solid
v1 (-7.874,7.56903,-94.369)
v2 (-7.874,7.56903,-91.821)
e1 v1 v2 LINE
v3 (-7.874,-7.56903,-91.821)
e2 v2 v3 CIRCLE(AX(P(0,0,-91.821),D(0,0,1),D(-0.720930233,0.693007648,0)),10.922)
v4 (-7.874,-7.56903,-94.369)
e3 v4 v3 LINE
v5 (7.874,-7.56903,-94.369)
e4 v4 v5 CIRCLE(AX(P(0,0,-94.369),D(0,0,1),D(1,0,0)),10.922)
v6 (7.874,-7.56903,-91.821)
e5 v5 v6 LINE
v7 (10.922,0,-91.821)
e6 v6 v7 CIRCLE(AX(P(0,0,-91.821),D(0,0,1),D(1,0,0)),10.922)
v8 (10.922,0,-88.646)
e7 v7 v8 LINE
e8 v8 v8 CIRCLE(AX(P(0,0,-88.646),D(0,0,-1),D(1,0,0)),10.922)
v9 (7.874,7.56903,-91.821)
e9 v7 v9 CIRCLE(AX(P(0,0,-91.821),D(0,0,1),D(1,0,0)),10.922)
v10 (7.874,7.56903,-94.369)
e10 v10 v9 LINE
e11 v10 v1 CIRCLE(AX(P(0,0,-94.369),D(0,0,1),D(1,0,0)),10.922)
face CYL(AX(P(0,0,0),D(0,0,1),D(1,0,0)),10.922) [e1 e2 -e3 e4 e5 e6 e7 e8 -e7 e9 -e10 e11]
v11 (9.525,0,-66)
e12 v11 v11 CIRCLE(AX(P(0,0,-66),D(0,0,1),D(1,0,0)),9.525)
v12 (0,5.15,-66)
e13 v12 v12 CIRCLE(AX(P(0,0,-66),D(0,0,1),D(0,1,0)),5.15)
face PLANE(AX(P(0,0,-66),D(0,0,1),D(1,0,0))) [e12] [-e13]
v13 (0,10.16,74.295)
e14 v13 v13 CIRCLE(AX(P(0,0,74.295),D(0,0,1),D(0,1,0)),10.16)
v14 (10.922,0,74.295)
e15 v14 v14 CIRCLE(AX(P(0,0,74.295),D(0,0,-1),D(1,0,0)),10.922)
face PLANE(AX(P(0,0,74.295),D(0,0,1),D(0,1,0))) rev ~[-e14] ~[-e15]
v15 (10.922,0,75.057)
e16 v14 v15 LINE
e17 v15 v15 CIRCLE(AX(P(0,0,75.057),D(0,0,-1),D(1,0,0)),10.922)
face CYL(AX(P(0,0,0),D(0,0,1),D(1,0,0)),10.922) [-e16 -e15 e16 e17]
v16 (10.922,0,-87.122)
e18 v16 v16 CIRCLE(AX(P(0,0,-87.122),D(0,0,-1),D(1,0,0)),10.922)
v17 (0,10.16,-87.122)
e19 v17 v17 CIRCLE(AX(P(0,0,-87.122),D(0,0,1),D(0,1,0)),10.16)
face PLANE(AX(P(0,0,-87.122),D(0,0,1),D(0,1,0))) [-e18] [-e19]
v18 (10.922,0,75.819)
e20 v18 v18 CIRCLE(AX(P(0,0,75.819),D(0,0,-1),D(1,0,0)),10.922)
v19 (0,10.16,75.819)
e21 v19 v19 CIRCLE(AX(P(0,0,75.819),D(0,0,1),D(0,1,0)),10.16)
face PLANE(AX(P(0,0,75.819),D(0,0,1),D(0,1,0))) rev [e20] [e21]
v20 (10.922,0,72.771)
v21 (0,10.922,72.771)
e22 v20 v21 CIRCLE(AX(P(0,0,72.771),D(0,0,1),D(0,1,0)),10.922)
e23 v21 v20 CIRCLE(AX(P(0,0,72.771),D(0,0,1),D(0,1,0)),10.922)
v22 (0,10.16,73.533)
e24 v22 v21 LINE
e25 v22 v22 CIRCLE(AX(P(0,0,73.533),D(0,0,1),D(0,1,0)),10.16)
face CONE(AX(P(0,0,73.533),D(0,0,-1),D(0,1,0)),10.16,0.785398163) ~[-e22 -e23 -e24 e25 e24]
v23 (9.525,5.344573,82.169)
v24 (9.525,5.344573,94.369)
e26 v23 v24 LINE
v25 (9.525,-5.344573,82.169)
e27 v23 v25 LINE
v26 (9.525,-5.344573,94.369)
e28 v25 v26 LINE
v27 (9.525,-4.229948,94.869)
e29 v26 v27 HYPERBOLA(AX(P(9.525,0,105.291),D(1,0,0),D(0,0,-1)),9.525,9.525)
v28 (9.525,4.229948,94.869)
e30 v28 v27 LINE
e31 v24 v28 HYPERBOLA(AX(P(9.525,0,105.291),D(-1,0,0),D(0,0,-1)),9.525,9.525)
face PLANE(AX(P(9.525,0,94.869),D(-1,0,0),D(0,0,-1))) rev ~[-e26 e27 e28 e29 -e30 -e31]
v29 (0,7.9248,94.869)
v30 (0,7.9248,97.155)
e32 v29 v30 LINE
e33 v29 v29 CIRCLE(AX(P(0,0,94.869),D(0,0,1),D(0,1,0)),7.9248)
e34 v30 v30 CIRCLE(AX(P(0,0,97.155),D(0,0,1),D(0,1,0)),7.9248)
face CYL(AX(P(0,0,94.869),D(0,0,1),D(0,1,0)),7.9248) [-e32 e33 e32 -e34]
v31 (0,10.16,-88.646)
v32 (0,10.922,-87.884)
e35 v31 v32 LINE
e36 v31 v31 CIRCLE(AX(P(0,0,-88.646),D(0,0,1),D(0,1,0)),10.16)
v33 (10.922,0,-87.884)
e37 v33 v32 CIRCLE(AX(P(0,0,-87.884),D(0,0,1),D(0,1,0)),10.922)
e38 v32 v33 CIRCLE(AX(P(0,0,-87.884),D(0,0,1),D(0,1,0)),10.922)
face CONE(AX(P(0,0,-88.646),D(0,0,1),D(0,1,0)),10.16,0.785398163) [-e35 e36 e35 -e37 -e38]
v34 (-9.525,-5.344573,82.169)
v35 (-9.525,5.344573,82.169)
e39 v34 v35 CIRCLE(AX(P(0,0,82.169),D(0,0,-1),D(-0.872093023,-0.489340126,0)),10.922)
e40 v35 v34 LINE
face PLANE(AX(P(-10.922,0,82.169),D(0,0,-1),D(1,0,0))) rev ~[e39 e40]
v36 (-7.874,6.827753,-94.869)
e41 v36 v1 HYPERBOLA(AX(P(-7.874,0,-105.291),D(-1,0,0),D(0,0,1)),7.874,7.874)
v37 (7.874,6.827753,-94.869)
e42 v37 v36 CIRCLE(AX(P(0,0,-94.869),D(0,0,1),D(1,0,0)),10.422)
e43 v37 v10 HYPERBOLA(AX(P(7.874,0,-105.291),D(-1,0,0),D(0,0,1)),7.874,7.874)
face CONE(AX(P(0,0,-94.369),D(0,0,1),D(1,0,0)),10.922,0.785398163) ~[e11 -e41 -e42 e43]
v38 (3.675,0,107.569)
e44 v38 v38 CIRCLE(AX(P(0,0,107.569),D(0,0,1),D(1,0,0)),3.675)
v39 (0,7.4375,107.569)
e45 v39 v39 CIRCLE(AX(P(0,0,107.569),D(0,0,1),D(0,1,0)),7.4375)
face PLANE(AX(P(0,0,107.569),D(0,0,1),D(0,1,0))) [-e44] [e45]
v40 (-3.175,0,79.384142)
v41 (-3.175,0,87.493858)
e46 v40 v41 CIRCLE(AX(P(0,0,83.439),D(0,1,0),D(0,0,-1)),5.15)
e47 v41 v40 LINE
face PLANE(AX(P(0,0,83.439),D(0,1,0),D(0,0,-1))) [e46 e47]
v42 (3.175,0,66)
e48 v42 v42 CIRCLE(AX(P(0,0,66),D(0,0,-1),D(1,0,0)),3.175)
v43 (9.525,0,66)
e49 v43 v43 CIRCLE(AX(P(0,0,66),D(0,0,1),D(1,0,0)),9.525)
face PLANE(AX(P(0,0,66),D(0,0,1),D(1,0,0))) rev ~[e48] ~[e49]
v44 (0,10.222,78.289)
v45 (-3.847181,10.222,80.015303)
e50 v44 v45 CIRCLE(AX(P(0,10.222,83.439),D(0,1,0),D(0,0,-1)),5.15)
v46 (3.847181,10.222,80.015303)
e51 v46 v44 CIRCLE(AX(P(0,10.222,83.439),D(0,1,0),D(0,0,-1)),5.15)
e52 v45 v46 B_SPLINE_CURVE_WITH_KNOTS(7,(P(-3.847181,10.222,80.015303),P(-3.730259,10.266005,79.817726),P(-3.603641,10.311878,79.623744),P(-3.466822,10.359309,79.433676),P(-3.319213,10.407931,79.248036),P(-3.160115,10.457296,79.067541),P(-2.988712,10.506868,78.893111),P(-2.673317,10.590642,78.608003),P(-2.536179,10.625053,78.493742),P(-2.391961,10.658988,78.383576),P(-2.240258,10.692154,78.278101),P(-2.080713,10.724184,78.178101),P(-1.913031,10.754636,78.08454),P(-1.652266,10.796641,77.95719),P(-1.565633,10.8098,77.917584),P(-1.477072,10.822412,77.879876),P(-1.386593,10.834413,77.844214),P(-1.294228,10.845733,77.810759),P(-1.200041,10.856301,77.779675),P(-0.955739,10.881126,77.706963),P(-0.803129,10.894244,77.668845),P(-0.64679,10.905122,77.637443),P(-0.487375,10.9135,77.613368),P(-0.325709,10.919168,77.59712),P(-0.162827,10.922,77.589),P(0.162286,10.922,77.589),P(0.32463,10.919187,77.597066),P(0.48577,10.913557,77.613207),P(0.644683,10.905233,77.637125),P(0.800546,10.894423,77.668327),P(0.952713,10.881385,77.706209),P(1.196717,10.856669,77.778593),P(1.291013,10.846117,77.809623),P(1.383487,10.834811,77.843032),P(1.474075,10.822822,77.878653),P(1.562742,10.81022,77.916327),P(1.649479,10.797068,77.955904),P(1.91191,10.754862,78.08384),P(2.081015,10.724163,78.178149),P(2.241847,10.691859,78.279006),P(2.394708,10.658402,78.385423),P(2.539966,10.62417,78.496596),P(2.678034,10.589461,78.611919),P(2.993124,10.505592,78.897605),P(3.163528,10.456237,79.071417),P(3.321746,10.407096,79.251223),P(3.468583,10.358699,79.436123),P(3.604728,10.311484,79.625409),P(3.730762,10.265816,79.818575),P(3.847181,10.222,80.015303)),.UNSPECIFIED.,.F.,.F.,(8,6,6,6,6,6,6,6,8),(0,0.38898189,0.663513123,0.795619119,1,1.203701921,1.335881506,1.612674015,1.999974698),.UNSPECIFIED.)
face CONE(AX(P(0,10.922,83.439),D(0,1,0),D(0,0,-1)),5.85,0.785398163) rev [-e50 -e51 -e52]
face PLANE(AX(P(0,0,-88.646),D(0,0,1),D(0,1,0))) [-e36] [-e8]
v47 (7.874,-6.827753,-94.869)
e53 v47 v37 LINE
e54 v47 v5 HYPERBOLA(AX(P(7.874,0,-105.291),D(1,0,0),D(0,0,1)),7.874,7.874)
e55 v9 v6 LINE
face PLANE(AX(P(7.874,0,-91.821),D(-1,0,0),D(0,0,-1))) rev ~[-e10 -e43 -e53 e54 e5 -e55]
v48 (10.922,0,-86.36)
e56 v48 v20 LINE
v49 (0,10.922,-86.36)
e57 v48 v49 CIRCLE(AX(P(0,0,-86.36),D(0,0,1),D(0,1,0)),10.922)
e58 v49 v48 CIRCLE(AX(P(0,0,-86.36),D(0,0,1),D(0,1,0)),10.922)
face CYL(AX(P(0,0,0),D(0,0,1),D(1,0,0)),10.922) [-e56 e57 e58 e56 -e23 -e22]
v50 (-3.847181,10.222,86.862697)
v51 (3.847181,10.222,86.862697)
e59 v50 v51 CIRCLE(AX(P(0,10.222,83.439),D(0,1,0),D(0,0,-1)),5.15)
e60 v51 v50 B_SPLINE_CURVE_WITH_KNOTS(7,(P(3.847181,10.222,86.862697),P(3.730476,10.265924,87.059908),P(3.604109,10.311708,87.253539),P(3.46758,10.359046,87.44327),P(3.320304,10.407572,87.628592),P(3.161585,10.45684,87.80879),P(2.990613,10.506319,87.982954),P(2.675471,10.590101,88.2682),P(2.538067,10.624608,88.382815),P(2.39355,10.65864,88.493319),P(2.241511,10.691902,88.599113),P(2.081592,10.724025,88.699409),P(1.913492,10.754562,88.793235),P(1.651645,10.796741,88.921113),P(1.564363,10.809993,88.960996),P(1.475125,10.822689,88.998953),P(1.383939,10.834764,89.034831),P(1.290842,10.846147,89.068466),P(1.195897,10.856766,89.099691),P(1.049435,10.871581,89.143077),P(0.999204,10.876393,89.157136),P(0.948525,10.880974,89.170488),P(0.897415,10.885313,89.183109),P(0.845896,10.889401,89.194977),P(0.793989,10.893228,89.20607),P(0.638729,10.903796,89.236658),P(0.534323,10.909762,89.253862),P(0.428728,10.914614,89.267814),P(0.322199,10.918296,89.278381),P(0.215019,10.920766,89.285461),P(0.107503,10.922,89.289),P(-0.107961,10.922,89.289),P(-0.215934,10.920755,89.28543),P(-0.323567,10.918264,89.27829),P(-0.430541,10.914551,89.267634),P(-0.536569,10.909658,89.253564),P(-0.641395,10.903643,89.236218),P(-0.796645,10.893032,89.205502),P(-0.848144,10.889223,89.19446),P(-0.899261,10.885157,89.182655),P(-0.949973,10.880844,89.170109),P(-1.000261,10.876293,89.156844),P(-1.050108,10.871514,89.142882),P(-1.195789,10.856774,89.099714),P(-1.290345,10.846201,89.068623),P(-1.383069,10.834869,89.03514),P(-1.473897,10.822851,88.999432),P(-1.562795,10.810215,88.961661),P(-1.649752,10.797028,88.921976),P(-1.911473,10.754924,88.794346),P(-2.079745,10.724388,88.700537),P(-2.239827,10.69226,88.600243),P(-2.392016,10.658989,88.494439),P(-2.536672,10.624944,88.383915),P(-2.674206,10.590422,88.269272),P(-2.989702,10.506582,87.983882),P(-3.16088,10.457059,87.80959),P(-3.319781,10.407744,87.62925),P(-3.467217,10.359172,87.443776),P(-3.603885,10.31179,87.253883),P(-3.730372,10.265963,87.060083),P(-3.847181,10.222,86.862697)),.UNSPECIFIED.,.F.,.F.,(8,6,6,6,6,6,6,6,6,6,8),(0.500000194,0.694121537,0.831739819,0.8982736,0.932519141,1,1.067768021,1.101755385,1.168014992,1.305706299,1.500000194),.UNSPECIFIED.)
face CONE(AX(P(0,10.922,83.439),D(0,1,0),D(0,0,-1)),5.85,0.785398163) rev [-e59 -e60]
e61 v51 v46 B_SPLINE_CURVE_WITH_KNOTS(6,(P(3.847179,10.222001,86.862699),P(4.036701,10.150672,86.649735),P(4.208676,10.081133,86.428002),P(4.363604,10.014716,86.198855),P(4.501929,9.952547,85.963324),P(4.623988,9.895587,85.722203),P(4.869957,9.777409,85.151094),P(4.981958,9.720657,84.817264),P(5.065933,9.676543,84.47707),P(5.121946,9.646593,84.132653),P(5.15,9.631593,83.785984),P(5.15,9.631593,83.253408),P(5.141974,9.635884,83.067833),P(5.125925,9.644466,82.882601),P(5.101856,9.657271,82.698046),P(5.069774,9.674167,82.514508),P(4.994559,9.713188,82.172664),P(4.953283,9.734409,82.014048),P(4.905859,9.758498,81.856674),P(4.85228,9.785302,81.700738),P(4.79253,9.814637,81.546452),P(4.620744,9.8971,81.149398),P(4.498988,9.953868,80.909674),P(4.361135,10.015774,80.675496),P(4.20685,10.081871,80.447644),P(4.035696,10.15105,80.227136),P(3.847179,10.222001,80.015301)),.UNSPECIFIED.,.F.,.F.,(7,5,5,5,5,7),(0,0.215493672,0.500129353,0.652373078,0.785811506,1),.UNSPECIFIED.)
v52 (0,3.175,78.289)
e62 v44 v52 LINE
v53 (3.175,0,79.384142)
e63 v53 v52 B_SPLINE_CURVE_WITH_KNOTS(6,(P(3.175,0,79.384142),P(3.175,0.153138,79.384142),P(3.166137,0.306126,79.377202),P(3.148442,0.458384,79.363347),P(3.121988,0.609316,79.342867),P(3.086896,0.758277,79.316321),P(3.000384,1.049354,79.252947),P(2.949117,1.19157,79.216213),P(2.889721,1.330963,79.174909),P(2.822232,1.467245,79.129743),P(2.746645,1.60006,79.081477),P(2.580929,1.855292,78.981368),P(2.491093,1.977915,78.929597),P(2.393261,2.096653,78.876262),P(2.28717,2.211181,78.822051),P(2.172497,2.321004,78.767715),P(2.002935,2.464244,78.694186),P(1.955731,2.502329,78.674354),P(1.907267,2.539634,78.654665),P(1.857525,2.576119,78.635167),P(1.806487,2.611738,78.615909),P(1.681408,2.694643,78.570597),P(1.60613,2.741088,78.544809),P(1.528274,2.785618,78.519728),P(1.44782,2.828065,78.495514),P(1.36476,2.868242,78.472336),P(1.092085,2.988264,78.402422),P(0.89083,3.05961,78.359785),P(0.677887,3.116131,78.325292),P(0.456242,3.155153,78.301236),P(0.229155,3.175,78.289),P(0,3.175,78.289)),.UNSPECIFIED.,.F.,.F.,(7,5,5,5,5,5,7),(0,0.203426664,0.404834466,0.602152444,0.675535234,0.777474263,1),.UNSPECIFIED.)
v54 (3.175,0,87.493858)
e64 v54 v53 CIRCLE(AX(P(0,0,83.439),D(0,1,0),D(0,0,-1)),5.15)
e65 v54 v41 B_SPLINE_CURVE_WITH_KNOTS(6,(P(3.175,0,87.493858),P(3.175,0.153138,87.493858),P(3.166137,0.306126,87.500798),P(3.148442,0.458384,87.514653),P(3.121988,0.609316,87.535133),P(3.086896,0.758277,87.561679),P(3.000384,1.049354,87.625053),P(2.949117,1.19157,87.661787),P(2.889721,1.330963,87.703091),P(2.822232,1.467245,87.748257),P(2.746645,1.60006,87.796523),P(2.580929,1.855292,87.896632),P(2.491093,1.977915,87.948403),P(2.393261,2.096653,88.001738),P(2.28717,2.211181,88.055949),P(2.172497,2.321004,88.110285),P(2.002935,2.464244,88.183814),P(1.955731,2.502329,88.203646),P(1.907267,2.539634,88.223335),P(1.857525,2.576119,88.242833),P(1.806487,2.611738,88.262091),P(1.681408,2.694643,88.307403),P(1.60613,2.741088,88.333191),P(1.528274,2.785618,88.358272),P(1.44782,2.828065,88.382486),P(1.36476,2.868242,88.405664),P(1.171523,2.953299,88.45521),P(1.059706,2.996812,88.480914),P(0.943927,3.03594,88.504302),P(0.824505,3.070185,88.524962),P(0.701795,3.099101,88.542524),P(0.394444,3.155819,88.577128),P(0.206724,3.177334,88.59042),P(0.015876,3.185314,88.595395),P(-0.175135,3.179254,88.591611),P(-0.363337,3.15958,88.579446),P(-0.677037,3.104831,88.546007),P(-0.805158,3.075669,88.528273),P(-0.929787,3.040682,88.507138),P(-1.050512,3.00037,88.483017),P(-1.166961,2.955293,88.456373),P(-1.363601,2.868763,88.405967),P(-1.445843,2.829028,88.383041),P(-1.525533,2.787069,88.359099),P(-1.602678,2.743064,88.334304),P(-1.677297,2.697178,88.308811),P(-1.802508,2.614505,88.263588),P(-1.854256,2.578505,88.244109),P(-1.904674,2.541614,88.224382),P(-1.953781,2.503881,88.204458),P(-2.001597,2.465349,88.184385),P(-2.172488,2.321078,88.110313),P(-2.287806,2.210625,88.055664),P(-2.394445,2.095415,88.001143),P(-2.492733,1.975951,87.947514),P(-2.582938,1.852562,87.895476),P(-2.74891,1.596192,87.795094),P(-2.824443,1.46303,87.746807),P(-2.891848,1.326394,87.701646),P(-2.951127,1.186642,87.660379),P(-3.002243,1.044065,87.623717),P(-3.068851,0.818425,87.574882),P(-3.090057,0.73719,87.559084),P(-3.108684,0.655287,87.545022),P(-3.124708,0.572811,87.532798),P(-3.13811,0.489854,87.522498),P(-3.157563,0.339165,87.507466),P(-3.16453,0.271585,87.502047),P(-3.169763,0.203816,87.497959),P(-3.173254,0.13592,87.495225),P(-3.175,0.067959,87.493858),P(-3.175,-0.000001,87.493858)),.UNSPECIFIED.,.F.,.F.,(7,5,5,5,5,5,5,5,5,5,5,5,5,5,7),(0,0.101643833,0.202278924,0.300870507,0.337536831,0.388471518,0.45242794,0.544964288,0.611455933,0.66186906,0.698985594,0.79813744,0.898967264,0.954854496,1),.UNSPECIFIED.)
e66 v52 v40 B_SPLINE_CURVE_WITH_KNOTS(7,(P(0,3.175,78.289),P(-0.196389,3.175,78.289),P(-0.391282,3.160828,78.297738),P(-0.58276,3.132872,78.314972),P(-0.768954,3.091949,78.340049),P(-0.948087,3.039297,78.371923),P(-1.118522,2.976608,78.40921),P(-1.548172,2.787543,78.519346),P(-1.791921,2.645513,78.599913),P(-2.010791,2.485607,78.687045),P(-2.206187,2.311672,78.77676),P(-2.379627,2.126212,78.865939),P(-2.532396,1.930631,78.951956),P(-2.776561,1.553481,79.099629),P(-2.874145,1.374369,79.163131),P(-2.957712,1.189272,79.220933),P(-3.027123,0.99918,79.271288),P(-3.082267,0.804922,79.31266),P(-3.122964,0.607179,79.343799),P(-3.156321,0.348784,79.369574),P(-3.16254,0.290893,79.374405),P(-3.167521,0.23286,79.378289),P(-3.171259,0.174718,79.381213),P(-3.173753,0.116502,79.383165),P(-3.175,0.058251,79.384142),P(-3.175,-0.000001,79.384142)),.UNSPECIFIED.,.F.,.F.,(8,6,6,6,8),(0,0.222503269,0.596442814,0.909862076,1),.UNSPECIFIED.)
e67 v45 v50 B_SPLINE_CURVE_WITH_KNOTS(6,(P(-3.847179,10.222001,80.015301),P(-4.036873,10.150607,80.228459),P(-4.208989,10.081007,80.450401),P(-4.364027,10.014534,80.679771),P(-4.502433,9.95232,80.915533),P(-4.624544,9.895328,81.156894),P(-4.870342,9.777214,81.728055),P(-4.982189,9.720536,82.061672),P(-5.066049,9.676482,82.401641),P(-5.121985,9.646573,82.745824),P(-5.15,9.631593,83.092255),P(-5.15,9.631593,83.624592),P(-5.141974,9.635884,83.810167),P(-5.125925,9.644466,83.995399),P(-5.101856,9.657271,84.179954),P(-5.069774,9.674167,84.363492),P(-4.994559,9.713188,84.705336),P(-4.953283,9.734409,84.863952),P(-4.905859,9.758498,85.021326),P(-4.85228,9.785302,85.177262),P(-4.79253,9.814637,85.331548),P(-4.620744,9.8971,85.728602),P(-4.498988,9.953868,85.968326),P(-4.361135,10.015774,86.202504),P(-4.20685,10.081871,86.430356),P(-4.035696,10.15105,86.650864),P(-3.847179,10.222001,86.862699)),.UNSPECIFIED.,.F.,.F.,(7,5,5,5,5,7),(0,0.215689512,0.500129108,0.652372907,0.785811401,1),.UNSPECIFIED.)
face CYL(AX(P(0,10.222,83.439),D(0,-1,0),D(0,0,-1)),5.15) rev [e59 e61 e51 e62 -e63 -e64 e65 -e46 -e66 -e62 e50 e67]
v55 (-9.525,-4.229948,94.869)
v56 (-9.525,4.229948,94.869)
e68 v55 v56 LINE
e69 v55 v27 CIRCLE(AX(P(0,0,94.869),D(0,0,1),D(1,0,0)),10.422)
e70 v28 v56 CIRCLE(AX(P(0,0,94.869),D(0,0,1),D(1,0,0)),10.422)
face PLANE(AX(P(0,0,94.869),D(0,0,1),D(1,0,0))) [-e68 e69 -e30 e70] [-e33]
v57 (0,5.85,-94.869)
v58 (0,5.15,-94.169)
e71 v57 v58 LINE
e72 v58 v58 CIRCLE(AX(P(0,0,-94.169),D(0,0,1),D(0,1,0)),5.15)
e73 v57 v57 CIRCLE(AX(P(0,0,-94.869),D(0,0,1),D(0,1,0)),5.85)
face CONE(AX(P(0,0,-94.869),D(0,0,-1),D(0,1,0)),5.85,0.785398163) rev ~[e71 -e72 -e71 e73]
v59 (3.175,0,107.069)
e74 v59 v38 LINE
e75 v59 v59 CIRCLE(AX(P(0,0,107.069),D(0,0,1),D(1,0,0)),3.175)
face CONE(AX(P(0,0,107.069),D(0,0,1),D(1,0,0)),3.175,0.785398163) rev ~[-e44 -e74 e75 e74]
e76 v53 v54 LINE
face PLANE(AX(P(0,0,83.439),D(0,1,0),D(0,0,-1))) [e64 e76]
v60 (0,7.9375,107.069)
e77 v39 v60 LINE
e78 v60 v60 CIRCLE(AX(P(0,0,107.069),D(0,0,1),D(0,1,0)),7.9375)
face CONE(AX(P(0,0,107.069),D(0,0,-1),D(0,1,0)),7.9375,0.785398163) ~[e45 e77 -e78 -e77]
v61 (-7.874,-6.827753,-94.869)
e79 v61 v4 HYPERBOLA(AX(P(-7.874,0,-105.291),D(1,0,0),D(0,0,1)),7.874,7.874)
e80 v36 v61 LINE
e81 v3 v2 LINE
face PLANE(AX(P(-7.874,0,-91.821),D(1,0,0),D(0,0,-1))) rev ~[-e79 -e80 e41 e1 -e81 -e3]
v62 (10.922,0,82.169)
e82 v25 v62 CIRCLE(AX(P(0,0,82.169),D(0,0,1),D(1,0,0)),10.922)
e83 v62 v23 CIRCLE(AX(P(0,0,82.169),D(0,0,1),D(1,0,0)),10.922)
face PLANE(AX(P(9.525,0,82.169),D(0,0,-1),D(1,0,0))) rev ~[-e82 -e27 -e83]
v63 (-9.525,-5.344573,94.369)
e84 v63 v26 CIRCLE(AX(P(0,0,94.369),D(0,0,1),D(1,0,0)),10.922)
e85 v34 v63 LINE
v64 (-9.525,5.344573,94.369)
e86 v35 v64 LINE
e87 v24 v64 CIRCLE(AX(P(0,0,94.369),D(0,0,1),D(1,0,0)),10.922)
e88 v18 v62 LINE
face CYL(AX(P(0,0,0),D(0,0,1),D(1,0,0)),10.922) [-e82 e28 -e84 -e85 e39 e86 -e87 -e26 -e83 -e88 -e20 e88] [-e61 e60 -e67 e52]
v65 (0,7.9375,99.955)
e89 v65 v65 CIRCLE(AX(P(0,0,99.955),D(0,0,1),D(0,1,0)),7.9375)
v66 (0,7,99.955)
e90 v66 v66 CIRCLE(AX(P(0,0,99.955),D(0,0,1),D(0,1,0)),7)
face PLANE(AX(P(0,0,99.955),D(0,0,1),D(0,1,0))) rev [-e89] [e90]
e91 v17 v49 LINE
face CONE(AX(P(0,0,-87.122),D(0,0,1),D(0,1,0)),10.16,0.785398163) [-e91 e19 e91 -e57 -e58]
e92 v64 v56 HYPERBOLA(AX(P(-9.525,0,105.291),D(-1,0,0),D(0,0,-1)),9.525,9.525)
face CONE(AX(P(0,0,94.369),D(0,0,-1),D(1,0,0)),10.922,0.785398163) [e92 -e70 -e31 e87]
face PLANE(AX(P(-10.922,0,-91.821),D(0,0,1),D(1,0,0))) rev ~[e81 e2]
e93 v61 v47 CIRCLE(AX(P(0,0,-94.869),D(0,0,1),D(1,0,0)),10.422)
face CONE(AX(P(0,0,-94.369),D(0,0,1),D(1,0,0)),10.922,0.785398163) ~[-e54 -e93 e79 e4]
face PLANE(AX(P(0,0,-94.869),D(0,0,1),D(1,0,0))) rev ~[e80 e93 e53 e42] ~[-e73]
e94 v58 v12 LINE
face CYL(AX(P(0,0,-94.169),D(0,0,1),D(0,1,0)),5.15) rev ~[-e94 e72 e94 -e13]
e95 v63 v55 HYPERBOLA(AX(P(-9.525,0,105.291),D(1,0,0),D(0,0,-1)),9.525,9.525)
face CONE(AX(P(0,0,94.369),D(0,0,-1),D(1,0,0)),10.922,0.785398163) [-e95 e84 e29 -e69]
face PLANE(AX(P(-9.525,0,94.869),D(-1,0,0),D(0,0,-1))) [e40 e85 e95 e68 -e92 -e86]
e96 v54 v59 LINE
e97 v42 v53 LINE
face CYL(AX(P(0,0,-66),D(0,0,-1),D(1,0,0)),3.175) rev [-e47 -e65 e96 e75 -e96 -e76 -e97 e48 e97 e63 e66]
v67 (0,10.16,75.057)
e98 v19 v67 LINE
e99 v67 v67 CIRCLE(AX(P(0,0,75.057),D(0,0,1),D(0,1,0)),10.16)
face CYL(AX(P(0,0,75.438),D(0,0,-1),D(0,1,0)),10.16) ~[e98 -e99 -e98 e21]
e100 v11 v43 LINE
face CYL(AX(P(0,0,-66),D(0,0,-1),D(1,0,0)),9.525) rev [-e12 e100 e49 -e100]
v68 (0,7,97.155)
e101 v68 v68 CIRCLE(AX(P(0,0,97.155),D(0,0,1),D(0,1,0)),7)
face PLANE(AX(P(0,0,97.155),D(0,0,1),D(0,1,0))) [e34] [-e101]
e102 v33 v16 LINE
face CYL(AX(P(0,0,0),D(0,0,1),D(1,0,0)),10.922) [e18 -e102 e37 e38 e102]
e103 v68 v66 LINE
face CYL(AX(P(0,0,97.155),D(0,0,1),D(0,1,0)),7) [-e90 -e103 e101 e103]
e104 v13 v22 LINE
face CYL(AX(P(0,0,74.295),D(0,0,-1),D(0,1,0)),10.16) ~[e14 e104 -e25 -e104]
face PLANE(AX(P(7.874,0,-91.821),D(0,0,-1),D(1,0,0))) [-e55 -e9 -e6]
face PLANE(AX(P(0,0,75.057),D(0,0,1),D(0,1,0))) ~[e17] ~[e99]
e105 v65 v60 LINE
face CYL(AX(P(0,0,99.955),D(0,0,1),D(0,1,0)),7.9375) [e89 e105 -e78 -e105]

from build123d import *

# Parameters (mm, degrees)
SKETCH1_R           = 10.922
EXTRUDE1_DEPTH      = 94.869
EXTRUDE1_DEPTH_BACK = 94.869
SKETCH3_W           = 0.762
SKETCH3_H           = 0.762
RODHOLE_START       = -173.569
SKETCH8_R           = 3.175
RODHOLE_DEPTH       = 173.569
SKETCH9_R           = 9.525
STROKECHAMBER_DEPTH = 132
CHAMFER1_SIZE       = 0.5
SKETCH4_W           = 1.397
SKETCH4_H           = 12.7
SKETCH4_W_2         = 3.048
SKETCH4_H_2         = 3.048
FLATS_DEPTH         = 11.9220001
FLATS_DEPTH_BACK    = 11.9220001


with BuildPart() as part:
    # Sketch1 → Extrude1 (new body, two sides)
    with BuildSketch(Plane.XY) as extrude1_sk:
        Circle(SKETCH1_R)
    extrude(amount=EXTRUDE1_DEPTH)
    extrude(extrude1_sk.sketch, amount=-EXTRUDE1_DEPTH_BACK)

    # Sketch2 → Nose (revolve)
    with BuildSketch(Plane(origin=(0, 0, 0), x_dir=(0, 0, -1), z_dir=(1, 0, 0))):
        Polygon((-94.869, 7.9248), (-97.155, 7.9248), (-97.155, 7), (-99.955, 7), (-99.955, 7.9375), (-107.569, 7.9375), (-107.569, 0), (-94.869, 0), align=None)
    revolve(axis=Axis((0, 0, 0), (0, 0, 1)))

    # Sketch3 → CoverGrooves (revolve, cut)
    with BuildSketch(Plane(origin=(0, 0, 0), x_dir=(0, 0, -1), z_dir=(1, 0, 0))):
        with Locations((-75.438, 10.541)):
            Rectangle(SKETCH3_W, SKETCH3_H)
        Polygon((-74.295, 10.922), (-74.295, 10.16), (-73.533, 10.16), (-72.771, 10.922), align=None)
        Polygon((88.646, 10.922), (88.646, 10.16), (87.884, 10.922), align=None)
        Polygon((87.122, 10.922), (87.122, 10.16), (86.36, 10.922), align=None)
    revolve(axis=Axis((0, 0, 0), (0, 0, 1)), mode=Mode.SUBTRACT)

    # Sketch7 → FrontPort (revolve, cut)
    with BuildSketch(Plane(origin=(0, 0, 0), x_dir=(0, 0, -1), z_dir=(1, 0, 0))):
        Polygon((-83.439, 10.922), (-77.589, 10.922), (-78.289, 10.222), (-78.289, 0), (-83.439, 0), align=None)
    revolve(axis=Axis((0, 0, 83.439), (0, 1, 0)), mode=Mode.SUBTRACT)

    # Sketch8 → RodHole (cut)
    with BuildSketch(Plane.XY.offset(107.569).offset(RODHOLE_START)):
        Circle(SKETCH8_R)
    extrude(amount=RODHOLE_DEPTH, mode=Mode.SUBTRACT)

    # Sketch9 → StrokeChamber (cut)
    with BuildSketch(Plane.XY.offset(-66)):
        Circle(SKETCH9_R)
    extrude(amount=STROKECHAMBER_DEPTH, mode=Mode.SUBTRACT)

    # Chamfer1
    chamfer1_edges = [part.edges().sort_by_distance(p)[0] for p in [
        (-10.922, 0, -94.869),
        (-3.175, 0, 107.569),
        (0, -7.9375, 107.569),
        (-10.922, 0, 94.869),
    ]]
    chamfer(chamfer1_edges, length=CHAMFER1_SIZE)

    # Sketch4 → Flats (cut, two sides)
    with BuildSketch(Plane(origin=(0, 0, 0), x_dir=(1, 0, 0), z_dir=(0, 1, 0))) as flats_sk:
        with Locations((10.2235, -88.519)):
            Rectangle(SKETCH4_W, SKETCH4_H)
        with Locations((9.398, 93.345)):
            Rectangle(SKETCH4_W_2, SKETCH4_H_2)
        with Locations((-9.398, 93.345)):
            Rectangle(SKETCH4_W_2, SKETCH4_H_2)
        with Locations((-10.2235, -88.519)):
            Rectangle(SKETCH4_W, SKETCH4_H)
    extrude(amount=FLATS_DEPTH, mode=Mode.SUBTRACT)
    extrude(flats_sk.sketch, amount=-FLATS_DEPTH_BACK, mode=Mode.SUBTRACT)

    # Sketch10 → RearStdPort (revolve, cut)
    with BuildSketch(Plane(origin=(0, 0, 0), x_dir=(0, 0, -1), z_dir=(1, 0, 0))):
        Polygon((94.869, 0), (94.869, 5.85), (94.169, 5.15), (0, 5.15), (0, 0), align=None)
    revolve(axis=Axis((0, 0, 0), (0, 0, 1)), mode=Mode.SUBTRACT)


solid = part.part
